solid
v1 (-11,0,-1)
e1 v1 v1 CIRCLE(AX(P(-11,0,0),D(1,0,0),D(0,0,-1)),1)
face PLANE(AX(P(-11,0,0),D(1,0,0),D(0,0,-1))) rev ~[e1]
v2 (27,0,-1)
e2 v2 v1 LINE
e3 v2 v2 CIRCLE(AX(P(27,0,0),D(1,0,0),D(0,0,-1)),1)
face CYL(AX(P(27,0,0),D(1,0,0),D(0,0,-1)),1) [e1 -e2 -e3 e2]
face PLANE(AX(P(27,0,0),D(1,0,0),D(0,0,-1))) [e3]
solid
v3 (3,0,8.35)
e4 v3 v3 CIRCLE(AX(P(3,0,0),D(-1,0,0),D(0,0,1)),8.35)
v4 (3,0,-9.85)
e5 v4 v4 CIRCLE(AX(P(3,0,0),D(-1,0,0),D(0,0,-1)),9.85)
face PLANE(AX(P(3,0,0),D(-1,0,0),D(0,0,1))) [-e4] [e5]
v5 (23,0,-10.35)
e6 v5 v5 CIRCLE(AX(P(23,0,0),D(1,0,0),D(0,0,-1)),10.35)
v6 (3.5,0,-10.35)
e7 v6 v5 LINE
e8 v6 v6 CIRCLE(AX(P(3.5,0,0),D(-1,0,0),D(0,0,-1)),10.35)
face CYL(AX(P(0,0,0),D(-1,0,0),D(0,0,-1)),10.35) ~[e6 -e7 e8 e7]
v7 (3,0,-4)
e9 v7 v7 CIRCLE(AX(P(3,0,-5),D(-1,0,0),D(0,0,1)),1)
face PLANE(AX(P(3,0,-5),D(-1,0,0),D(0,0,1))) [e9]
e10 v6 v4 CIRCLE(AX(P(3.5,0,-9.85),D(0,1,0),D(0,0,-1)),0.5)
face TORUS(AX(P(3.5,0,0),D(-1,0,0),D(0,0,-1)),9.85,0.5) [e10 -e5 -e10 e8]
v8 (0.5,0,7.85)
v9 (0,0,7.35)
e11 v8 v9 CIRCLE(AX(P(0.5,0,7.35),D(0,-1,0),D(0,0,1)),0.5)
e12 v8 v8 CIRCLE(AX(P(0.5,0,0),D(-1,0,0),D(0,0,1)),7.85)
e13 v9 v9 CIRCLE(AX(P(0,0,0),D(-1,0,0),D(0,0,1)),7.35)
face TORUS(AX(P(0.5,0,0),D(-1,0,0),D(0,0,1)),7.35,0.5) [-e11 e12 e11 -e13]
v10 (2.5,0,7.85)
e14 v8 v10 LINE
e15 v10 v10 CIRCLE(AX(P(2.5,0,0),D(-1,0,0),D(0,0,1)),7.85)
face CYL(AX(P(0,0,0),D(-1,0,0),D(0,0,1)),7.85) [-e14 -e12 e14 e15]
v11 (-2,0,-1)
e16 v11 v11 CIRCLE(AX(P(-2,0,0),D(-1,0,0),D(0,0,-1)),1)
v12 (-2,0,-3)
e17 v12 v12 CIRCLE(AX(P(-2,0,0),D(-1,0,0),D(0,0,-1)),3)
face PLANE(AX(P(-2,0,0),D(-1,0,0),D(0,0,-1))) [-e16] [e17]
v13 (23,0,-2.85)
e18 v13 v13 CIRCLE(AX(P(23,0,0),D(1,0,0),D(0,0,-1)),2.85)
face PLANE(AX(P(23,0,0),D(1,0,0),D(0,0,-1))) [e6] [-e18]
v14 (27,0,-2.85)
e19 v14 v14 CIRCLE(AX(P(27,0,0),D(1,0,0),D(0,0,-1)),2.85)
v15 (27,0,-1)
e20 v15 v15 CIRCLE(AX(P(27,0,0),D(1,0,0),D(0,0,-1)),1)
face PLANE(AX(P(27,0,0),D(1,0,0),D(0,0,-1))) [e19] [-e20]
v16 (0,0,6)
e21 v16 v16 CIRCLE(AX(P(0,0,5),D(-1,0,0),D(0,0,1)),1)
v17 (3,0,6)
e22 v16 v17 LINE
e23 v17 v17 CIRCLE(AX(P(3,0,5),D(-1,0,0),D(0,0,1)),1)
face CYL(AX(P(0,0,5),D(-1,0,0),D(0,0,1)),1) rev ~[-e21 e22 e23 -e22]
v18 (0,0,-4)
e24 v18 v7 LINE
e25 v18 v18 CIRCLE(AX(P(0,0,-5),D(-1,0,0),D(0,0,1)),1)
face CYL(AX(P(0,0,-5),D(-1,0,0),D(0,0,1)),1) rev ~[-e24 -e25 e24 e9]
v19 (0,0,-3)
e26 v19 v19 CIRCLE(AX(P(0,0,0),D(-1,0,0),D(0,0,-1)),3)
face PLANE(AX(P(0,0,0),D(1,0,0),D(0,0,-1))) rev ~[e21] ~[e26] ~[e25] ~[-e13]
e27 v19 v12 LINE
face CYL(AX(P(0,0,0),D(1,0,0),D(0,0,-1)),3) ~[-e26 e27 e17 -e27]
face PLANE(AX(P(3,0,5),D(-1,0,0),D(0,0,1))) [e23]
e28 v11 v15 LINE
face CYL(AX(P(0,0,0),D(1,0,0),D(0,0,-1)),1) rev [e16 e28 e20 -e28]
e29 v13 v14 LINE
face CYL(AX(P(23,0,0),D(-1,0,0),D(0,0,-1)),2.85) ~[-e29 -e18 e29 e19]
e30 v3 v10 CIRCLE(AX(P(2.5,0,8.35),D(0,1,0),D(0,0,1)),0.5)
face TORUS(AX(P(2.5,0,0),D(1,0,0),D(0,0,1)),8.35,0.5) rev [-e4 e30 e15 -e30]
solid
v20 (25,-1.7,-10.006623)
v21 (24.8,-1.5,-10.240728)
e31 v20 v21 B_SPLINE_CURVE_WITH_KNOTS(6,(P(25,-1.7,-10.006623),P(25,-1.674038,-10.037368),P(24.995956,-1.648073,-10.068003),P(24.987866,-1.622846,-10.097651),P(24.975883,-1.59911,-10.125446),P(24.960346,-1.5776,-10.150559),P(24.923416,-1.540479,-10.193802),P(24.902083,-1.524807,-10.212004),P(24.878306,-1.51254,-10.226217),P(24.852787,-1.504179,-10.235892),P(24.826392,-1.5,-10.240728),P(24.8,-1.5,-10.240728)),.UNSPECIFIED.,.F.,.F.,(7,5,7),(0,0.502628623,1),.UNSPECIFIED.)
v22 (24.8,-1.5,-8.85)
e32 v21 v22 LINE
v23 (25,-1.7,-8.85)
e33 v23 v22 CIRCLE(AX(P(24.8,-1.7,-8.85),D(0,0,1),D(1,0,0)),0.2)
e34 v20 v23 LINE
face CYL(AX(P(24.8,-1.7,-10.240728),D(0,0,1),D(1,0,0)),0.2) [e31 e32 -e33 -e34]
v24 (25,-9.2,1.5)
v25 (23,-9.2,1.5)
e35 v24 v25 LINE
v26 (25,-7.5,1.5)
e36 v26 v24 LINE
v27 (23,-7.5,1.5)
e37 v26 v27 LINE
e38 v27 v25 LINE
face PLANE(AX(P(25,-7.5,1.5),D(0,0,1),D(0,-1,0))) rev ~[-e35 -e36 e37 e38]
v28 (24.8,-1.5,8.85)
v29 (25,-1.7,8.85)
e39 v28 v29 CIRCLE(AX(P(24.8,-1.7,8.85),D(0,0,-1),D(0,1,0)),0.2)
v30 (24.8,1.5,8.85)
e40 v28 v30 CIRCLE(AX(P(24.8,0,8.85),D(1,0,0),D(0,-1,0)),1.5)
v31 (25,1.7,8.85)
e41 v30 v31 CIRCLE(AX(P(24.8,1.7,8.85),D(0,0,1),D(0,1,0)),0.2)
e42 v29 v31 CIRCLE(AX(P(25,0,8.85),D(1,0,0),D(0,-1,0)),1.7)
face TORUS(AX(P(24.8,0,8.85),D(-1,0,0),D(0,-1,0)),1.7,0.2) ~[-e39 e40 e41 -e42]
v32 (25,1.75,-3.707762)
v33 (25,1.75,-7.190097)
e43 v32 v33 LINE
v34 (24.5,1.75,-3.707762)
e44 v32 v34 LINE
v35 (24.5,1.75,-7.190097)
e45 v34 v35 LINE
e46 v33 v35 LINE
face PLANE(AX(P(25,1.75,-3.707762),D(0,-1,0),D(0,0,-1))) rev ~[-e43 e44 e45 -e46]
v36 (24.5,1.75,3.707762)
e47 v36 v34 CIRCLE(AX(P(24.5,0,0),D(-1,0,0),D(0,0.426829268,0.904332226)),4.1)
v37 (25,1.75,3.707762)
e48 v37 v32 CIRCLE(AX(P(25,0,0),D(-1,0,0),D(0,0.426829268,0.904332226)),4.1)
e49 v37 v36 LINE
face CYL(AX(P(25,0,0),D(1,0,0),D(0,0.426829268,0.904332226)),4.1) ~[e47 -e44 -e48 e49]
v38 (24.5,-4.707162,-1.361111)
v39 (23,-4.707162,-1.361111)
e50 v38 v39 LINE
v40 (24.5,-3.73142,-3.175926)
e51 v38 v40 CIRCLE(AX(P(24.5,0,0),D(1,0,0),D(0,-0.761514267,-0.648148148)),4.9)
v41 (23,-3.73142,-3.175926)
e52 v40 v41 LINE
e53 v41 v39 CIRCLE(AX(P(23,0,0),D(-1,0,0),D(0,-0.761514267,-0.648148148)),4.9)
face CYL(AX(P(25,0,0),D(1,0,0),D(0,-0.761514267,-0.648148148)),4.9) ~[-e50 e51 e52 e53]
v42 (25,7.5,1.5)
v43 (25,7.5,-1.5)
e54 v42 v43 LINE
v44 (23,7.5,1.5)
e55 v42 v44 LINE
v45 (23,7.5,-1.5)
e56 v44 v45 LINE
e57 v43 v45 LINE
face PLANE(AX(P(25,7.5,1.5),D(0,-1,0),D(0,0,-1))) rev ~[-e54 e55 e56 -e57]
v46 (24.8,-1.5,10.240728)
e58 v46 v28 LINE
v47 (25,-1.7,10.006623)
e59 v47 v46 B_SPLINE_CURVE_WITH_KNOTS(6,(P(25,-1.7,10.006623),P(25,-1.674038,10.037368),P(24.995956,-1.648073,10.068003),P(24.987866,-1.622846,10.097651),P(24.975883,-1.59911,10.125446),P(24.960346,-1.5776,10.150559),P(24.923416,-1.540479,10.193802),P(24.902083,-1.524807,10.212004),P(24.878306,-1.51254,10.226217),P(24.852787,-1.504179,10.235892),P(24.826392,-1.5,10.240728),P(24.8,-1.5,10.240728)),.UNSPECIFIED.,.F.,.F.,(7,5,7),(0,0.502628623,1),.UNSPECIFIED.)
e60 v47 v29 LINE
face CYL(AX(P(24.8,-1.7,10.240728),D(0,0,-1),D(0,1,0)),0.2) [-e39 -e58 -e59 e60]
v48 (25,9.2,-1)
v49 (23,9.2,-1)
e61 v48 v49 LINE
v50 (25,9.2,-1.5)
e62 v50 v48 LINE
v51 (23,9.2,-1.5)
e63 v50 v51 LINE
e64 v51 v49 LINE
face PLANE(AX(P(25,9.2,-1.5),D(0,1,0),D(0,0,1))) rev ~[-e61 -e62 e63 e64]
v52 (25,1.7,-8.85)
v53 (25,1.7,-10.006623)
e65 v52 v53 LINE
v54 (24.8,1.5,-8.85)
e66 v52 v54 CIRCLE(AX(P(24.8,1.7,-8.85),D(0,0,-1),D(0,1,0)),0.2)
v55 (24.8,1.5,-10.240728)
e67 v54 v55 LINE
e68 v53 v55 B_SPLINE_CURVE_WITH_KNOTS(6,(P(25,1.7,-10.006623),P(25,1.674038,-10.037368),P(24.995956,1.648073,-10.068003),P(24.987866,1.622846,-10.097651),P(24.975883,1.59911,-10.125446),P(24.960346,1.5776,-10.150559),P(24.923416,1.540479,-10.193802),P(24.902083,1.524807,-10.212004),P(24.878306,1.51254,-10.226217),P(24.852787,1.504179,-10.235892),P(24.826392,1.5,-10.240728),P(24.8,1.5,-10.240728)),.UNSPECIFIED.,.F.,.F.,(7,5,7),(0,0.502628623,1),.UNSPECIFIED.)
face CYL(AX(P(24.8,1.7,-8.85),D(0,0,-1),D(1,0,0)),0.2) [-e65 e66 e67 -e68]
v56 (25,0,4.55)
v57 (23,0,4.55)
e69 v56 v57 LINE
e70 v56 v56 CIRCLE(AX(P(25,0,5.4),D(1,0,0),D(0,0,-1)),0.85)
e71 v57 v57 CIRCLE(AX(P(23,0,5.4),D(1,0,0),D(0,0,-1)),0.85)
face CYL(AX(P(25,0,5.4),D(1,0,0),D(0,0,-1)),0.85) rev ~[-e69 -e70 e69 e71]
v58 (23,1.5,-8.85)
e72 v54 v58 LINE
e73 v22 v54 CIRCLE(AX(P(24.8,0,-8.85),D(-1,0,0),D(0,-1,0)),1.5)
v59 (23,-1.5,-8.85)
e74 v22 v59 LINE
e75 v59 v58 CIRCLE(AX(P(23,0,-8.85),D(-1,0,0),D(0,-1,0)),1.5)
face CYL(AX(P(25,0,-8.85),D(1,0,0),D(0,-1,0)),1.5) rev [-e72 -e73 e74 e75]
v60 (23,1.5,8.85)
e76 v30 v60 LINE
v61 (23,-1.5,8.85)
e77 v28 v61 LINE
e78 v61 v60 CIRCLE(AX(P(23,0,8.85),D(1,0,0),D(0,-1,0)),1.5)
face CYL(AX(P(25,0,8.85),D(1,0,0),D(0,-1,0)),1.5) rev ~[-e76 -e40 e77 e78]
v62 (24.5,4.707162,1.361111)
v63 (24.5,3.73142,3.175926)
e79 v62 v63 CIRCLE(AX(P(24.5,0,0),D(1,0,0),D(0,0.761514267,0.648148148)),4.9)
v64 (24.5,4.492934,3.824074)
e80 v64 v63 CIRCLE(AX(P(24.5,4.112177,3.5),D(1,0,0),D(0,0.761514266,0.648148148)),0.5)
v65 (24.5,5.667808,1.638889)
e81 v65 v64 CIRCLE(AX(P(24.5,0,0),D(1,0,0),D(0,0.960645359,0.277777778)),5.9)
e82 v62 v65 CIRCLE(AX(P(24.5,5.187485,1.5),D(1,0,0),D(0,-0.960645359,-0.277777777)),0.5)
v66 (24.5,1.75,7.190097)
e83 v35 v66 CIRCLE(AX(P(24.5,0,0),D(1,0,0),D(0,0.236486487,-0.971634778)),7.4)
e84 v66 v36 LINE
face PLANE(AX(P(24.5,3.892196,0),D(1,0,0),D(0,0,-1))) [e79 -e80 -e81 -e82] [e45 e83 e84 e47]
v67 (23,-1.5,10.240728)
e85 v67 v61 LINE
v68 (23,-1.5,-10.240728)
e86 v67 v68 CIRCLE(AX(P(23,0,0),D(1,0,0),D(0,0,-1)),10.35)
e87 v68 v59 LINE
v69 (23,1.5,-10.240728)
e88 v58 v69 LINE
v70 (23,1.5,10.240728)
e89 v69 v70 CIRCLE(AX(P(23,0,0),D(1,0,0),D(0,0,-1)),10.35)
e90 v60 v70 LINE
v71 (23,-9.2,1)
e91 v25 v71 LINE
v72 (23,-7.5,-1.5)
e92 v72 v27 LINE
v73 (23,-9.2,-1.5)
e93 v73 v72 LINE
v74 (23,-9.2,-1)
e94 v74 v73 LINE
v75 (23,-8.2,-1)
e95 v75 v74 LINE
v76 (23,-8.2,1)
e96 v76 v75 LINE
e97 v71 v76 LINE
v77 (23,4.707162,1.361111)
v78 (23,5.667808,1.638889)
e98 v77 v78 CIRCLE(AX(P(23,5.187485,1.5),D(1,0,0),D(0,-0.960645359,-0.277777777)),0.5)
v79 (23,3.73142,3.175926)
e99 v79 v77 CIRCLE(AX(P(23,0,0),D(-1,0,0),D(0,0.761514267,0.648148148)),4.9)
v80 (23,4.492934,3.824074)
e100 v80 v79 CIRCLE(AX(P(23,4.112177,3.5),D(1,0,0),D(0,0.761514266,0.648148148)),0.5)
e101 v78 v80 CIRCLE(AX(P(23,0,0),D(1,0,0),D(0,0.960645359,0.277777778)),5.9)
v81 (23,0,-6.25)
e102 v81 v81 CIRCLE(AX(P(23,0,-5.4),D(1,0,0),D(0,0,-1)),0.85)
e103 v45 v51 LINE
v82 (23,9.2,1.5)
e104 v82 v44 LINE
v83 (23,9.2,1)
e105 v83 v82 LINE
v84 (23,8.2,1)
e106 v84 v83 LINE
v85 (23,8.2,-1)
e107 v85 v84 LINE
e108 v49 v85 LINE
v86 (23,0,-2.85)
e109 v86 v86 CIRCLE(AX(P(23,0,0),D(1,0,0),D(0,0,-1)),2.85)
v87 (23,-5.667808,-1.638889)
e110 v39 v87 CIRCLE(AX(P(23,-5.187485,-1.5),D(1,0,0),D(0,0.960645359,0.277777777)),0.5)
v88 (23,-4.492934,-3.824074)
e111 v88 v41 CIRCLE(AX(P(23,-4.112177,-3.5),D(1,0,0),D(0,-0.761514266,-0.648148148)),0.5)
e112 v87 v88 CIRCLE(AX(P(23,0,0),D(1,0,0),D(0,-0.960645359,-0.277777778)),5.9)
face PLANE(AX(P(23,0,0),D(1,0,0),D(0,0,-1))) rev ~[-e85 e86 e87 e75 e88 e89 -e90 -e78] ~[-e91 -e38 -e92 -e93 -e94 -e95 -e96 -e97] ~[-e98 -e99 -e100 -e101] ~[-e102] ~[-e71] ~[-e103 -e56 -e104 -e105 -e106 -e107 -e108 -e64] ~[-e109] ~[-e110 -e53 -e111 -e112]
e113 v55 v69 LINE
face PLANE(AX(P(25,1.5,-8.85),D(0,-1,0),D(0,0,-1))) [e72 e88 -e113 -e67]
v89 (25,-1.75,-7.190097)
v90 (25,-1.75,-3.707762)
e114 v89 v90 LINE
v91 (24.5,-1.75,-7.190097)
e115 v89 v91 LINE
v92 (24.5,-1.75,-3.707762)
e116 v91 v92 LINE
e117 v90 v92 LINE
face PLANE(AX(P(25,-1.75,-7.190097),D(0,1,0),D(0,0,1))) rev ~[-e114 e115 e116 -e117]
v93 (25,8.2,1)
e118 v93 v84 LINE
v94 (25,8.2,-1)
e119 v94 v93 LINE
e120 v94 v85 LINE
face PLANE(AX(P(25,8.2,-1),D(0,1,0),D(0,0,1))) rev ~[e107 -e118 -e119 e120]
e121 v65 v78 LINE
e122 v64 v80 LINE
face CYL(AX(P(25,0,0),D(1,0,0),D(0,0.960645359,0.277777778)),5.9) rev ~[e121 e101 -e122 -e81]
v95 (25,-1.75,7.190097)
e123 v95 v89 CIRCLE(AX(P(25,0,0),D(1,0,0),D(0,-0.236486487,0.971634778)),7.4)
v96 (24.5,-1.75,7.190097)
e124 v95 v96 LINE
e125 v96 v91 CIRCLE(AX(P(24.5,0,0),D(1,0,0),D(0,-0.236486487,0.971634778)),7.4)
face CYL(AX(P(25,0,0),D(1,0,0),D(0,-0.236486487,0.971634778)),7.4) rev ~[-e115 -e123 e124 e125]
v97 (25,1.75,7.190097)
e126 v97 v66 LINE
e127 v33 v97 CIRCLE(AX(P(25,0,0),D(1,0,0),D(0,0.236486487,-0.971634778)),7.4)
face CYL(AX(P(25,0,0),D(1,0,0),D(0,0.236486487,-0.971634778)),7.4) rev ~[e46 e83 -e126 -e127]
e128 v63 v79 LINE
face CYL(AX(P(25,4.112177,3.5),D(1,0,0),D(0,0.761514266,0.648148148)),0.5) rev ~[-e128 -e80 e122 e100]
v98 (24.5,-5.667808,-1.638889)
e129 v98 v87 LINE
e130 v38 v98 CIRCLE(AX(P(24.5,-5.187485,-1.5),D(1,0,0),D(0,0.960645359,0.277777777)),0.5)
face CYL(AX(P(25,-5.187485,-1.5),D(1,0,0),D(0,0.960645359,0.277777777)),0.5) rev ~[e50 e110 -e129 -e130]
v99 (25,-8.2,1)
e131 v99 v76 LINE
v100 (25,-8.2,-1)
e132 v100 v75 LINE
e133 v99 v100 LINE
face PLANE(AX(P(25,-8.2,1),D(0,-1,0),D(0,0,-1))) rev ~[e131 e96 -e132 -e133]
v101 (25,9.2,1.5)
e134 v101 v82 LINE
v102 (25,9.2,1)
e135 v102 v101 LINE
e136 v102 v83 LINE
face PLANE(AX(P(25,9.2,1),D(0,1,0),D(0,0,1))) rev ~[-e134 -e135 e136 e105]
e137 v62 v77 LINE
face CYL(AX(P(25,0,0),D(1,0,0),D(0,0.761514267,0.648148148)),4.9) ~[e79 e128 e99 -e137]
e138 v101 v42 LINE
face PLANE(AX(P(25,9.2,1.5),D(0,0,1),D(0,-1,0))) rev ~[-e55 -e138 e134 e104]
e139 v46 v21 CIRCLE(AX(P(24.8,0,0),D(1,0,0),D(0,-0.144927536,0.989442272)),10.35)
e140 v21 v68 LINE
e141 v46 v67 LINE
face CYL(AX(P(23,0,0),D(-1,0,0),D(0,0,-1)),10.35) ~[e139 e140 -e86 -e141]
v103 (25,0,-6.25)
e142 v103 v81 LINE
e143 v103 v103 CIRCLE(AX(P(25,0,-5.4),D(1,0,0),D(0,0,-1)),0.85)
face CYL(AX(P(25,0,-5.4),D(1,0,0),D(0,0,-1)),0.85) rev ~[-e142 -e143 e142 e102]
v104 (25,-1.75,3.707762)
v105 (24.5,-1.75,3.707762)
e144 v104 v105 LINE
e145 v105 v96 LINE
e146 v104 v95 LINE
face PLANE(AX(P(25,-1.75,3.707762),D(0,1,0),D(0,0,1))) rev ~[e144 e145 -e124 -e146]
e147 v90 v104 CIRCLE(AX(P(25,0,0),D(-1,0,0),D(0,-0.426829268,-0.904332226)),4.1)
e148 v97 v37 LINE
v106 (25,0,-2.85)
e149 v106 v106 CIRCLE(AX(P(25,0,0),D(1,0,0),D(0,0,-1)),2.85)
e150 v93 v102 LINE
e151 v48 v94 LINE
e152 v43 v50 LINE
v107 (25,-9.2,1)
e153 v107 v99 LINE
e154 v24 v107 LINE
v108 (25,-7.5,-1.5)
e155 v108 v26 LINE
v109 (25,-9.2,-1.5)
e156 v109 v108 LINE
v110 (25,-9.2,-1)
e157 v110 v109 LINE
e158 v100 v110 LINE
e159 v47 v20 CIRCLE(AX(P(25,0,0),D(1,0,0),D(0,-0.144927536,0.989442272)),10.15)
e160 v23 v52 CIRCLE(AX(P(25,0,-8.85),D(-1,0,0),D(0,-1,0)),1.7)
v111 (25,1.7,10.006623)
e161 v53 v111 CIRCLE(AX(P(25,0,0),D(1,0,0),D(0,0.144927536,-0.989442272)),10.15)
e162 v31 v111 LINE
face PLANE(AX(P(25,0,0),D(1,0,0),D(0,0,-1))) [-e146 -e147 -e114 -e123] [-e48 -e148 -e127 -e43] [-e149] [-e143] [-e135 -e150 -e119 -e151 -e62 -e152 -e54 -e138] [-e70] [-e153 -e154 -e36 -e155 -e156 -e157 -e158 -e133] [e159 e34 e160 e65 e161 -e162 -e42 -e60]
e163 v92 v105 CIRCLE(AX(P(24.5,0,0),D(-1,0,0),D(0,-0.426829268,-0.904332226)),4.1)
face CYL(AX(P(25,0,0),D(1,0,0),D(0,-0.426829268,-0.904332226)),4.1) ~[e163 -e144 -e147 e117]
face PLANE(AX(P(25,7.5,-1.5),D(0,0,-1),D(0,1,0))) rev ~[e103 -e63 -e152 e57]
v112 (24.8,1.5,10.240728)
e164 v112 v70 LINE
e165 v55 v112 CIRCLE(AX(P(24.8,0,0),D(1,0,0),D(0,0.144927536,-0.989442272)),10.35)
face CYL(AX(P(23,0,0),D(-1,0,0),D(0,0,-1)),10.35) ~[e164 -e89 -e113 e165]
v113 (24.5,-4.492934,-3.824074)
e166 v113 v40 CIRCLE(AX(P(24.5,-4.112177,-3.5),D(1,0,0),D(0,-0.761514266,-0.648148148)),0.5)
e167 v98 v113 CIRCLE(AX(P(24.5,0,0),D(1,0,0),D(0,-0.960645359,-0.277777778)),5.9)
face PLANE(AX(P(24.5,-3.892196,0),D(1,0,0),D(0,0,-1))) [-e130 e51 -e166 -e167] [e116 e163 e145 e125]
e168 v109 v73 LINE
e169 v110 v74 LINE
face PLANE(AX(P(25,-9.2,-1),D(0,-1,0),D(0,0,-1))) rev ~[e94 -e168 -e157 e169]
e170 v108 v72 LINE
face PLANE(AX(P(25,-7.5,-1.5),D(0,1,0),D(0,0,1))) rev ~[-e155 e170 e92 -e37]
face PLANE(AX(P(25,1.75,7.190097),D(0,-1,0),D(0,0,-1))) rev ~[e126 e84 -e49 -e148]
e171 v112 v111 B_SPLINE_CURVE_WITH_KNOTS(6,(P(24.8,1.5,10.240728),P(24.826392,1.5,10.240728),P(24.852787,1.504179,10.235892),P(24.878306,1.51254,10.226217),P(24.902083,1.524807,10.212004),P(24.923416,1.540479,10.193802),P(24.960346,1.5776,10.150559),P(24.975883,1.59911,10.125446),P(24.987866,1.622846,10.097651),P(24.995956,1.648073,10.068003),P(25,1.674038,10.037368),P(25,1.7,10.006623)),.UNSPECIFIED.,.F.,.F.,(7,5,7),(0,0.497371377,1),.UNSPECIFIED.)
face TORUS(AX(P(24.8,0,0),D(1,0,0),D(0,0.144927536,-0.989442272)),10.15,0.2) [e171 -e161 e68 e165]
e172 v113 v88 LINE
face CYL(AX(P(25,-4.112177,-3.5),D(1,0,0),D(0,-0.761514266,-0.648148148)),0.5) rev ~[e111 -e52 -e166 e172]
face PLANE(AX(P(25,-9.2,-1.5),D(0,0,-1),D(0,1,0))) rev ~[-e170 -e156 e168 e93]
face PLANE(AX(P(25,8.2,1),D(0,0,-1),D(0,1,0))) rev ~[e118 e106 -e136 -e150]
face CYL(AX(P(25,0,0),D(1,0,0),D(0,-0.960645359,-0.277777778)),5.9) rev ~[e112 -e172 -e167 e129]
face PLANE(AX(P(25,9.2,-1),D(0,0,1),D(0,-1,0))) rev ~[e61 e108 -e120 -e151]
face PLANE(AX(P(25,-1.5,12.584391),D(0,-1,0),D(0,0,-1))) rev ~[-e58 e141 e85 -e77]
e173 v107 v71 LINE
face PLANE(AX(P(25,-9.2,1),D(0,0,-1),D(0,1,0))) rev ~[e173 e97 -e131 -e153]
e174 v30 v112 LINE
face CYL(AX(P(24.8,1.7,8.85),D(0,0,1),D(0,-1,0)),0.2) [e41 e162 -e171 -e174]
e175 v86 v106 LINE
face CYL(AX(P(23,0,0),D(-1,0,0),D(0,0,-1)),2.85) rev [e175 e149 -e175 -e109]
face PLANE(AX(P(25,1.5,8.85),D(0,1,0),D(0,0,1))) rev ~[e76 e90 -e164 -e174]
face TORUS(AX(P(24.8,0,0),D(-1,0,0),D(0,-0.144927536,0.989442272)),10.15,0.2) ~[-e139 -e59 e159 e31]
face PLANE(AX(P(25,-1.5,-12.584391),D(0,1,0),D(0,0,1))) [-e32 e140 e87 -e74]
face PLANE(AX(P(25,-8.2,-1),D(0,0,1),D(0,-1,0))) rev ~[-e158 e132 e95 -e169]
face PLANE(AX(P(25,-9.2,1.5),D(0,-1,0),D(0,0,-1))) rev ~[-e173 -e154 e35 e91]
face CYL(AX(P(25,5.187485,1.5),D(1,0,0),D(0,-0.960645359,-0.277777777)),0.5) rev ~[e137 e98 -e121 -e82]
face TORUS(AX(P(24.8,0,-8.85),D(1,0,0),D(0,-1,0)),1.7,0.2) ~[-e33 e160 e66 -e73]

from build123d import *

# Parameters (mm, degrees)
SKETCH1_R           = 10.35
BOSS_EXTRUDE1_DEPTH = 23
SKETCH2_R           = 2.85
BOSS_EXTRUDE2_DEPTH = 4
SKETCH3_R           = 1
CUT_EXTRUDE1_DEPTH  = 31.712293955
SKETCH4_OUTSIDE_W   = 30.664
SKETCH4_OUTSIDE_H   = 30.664
SKETCH4_OUTSIDE_R   = 7.85
CUT_EXTRUDE2_DEPTH  = 3
FILLET1_R           = 0.5
SKETCH5_R           = 3
SKETCH5_R_2         = 1
BOSS_EXTRUDE3_DEPTH = 2
SKETCH6_R           = 1
CUT_EXTRUDE3_DEPTH  = 3
SKETCH7_R           = 10.35
SKETCH7_R_2         = 2.85
BOSS_EXTRUDE4_DEPTH = 2
CUT_EXTRUDE4_DEPTH  = 2
SKETCH9_R           = 0.85
CUT_EXTRUDE5_DEPTH  = 2
CUT_EXTRUDE6_DEPTH  = 2
FILLET2_R           = 0.2
CUT_EXTRUDE7_DEPTH  = 0.5
SKETCH12_R          = 1
BOSS_EXTRUDE5_DEPTH = 38


with BuildPart() as part:
    # Sketch1 → Boss-Extrude1 (new body)
    with BuildSketch(Plane(origin=(0, 0, 0), x_dir=(0, 0, -1), z_dir=(1, 0, 0))):
        Circle(SKETCH1_R)
    extrude(amount=BOSS_EXTRUDE1_DEPTH)

    # Sketch2 → Boss-Extrude2 (add)
    with BuildSketch(Plane(origin=(23, 0, 0), x_dir=(0, 0, -1), z_dir=(1, 0, 0))):
        Circle(SKETCH2_R)
    extrude(amount=BOSS_EXTRUDE2_DEPTH)

    # Sketch3 → Cut-Extrude1 (cut, through all)
    with BuildSketch(Plane(origin=(27, 0, 0), x_dir=(0, 0, -1), z_dir=(1, 0, 0))):
        Circle(SKETCH3_R)
    extrude(amount=-CUT_EXTRUDE1_DEPTH, mode=Mode.SUBTRACT)

    # Sketch4 outside → Cut-Extrude2 (cut)
    with BuildSketch(Plane.ZY):
        Rectangle(SKETCH4_OUTSIDE_W, SKETCH4_OUTSIDE_H)
        Circle(SKETCH4_OUTSIDE_R, mode=Mode.SUBTRACT)
    extrude(amount=-CUT_EXTRUDE2_DEPTH, mode=Mode.SUBTRACT)

    # Fillet1
    fillet1_edges = [part.edges().sort_by_distance(p)[0] for p in [
        (3, 0, -7.85),
        (3, 0, 10.35),
        (0, 0, -7.85),
    ]]
    fillet(fillet1_edges, radius=FILLET1_R)

    # Sketch5 → Boss-Extrude3 (add)
    with BuildSketch(Plane.ZY):
        with Locations(Location((0, 0, 0), (0, 0, 180))):
            Circle(SKETCH5_R)
        with Locations(Location((0, 0, 0), (0, 0, 180))):
            Circle(SKETCH5_R_2, mode=Mode.SUBTRACT)
    extrude(amount=BOSS_EXTRUDE3_DEPTH)

    # Sketch6 → Cut-Extrude3 (cut)
    with BuildSketch(Plane.ZY):
        with Locations((5, 0)):
            Circle(SKETCH6_R)
        with Locations((-5, 0)):
            Circle(SKETCH6_R)
    extrude(amount=-CUT_EXTRUDE3_DEPTH, mode=Mode.SUBTRACT)


with BuildPart() as body_2:
    # Sketch7 → Boss-Extrude4 (new body)
    with BuildSketch(Plane(origin=(23, 0, 0), x_dir=(0, 0, -1), z_dir=(1, 0, 0))):
        Circle(SKETCH7_R)
        Circle(SKETCH7_R_2, mode=Mode.SUBTRACT)
    extrude(amount=BOSS_EXTRUDE4_DEPTH)

    # Sketch8 → Cut-Extrude4 (cut)
    with BuildSketch(Plane(origin=(25, 0, 0), x_dir=(0, 0, -1), z_dir=(1, 0, 0))):
        with BuildLine():
            Line((-8.85, 1.5), (-12.584391225, 1.5))
            Line((-12.584391225, 1.5), (-12.584391225, -1.5))
            Line((-12.584391225, -1.5), (-8.85, -1.5))
            ThreePointArc((-8.85, -1.5), (-7.35, 0), (-8.85, 1.5))
        make_face()
        with BuildLine():
            Line((12.584391225, -1.5), (8.85, -1.5))
            ThreePointArc((8.85, -1.5), (7.35, 0), (8.85, 1.5))
            Line((8.85, 1.5), (12.584391225, 1.5))
            Line((12.584391225, 1.5), (12.584391225, -1.5))
        make_face()
    extrude(amount=-CUT_EXTRUDE4_DEPTH, mode=Mode.SUBTRACT)

    # Sketch9 → Cut-Extrude5 (cut)
    with BuildSketch(Plane(origin=(25, 0, 0), x_dir=(0, 0, -1), z_dir=(1, 0, 0))):
        with Locations((-5.4, 0)):
            Circle(SKETCH9_R)
        with Locations((5.4, 0)):
            Circle(SKETCH9_R)
        with BuildLine():
            ThreePointArc((-1.638888889, 5.667807619), (-2.793935036, 5.196530286), (-3.824074074, 4.492934172))
            ThreePointArc((-3.824074074, 4.492934172), (-3.880757133, 3.788102965), (-3.175925926, 3.731419906))
            ThreePointArc((-3.175925926, 3.731419906), (-2.320386725, 4.315762441), (-1.361111111, 4.70716226))
            ThreePointArc((-1.361111111, 4.70716226), (-1.01967732, 5.326373829), (-1.638888889, 5.667807619))
        make_face()
        with BuildLine():
            ThreePointArc((1.638888889, -5.667807619), (2.793935036, -5.196530286), (3.824074074, -4.492934172))
            ThreePointArc((3.824074074, -4.492934172), (3.880757133, -3.788102965), (3.175925926, -3.731419906))
            ThreePointArc((3.175925926, -3.731419906), (2.320386725, -4.315762441), (1.361111111, -4.70716226))
            ThreePointArc((1.361111111, -4.70716226), (1.01967732, -5.326373829), (1.638888889, -5.667807619))
        make_face()
    extrude(amount=-CUT_EXTRUDE5_DEPTH, mode=Mode.SUBTRACT)

    # Sketch10 → Cut-Extrude6 (cut)
    with BuildSketch(Plane(origin=(25, 0, 0), x_dir=(0, 0, -1), z_dir=(1, 0, 0))):
        Polygon((-1.5, 9.2), (-1.5, 7.5), (1.5, 7.5), (1.5, 9.2), (1, 9.2), (1, 8.2), (-1, 8.2), (-1, 9.2), align=None)
        Polygon((1.5, -9.2), (1.5, -7.5), (-1.5, -7.5), (-1.5, -9.2), (-1, -9.2), (-1, -8.2), (1, -8.2), (1, -9.2), align=None)
    extrude(amount=-CUT_EXTRUDE6_DEPTH, mode=Mode.SUBTRACT)

    # Fillet2
    fillet2_edges = [body_2.edges().sort_by_distance(p)[0] for p in [
        (25, -10.35, 0),
        (25, 1.5, 9.545363757),
        (25, -1.5, 9.545363757),
        (25, 0, 7.35),
        (25, 1.5, -9.545363757),
        (25, 0, -7.35),
        (25, -1.5, -9.545363757),
        (25, 10.35, 0),
    ]]
    fillet(fillet2_edges, radius=FILLET2_R)

    # Sketch11 → Cut-Extrude7 (cut)
    with BuildSketch(Plane(origin=(25, 0, 0), x_dir=(0, 0, -1), z_dir=(1, 0, 0))):
        with BuildLine():
            Line((-7.190097357, 1.75), (-3.707762128, 1.75))
            ThreePointArc((-3.707762128, 1.75), (0, 4.1), (3.707762128, 1.75))
            Line((3.707762128, 1.75), (7.190097357, 1.75))
            ThreePointArc((7.190097357, 1.75), (0, 7.4), (-7.190097357, 1.75))
        make_face()
        with BuildLine():
            Line((7.190097357, -1.75), (3.707762128, -1.75))
            ThreePointArc((3.707762128, -1.75), (0, -4.1), (-3.707762128, -1.75))
            Line((-3.707762128, -1.75), (-7.190097357, -1.75))
            ThreePointArc((-7.190097357, -1.75), (0, -7.4), (7.190097357, -1.75))
        make_face()
    extrude(amount=-CUT_EXTRUDE7_DEPTH, mode=Mode.SUBTRACT)


with BuildPart() as body_3:
    # Sketch12 → Boss-Extrude5 (new body)
    with BuildSketch(Plane(origin=(27, 0, 0), x_dir=(0, 0, -1), z_dir=(1, 0, 0))):
        Circle(SKETCH12_R)
    extrude(amount=-BOSS_EXTRUDE5_DEPTH)


solid = Compound([part.part, body_2.part, body_3.part])
